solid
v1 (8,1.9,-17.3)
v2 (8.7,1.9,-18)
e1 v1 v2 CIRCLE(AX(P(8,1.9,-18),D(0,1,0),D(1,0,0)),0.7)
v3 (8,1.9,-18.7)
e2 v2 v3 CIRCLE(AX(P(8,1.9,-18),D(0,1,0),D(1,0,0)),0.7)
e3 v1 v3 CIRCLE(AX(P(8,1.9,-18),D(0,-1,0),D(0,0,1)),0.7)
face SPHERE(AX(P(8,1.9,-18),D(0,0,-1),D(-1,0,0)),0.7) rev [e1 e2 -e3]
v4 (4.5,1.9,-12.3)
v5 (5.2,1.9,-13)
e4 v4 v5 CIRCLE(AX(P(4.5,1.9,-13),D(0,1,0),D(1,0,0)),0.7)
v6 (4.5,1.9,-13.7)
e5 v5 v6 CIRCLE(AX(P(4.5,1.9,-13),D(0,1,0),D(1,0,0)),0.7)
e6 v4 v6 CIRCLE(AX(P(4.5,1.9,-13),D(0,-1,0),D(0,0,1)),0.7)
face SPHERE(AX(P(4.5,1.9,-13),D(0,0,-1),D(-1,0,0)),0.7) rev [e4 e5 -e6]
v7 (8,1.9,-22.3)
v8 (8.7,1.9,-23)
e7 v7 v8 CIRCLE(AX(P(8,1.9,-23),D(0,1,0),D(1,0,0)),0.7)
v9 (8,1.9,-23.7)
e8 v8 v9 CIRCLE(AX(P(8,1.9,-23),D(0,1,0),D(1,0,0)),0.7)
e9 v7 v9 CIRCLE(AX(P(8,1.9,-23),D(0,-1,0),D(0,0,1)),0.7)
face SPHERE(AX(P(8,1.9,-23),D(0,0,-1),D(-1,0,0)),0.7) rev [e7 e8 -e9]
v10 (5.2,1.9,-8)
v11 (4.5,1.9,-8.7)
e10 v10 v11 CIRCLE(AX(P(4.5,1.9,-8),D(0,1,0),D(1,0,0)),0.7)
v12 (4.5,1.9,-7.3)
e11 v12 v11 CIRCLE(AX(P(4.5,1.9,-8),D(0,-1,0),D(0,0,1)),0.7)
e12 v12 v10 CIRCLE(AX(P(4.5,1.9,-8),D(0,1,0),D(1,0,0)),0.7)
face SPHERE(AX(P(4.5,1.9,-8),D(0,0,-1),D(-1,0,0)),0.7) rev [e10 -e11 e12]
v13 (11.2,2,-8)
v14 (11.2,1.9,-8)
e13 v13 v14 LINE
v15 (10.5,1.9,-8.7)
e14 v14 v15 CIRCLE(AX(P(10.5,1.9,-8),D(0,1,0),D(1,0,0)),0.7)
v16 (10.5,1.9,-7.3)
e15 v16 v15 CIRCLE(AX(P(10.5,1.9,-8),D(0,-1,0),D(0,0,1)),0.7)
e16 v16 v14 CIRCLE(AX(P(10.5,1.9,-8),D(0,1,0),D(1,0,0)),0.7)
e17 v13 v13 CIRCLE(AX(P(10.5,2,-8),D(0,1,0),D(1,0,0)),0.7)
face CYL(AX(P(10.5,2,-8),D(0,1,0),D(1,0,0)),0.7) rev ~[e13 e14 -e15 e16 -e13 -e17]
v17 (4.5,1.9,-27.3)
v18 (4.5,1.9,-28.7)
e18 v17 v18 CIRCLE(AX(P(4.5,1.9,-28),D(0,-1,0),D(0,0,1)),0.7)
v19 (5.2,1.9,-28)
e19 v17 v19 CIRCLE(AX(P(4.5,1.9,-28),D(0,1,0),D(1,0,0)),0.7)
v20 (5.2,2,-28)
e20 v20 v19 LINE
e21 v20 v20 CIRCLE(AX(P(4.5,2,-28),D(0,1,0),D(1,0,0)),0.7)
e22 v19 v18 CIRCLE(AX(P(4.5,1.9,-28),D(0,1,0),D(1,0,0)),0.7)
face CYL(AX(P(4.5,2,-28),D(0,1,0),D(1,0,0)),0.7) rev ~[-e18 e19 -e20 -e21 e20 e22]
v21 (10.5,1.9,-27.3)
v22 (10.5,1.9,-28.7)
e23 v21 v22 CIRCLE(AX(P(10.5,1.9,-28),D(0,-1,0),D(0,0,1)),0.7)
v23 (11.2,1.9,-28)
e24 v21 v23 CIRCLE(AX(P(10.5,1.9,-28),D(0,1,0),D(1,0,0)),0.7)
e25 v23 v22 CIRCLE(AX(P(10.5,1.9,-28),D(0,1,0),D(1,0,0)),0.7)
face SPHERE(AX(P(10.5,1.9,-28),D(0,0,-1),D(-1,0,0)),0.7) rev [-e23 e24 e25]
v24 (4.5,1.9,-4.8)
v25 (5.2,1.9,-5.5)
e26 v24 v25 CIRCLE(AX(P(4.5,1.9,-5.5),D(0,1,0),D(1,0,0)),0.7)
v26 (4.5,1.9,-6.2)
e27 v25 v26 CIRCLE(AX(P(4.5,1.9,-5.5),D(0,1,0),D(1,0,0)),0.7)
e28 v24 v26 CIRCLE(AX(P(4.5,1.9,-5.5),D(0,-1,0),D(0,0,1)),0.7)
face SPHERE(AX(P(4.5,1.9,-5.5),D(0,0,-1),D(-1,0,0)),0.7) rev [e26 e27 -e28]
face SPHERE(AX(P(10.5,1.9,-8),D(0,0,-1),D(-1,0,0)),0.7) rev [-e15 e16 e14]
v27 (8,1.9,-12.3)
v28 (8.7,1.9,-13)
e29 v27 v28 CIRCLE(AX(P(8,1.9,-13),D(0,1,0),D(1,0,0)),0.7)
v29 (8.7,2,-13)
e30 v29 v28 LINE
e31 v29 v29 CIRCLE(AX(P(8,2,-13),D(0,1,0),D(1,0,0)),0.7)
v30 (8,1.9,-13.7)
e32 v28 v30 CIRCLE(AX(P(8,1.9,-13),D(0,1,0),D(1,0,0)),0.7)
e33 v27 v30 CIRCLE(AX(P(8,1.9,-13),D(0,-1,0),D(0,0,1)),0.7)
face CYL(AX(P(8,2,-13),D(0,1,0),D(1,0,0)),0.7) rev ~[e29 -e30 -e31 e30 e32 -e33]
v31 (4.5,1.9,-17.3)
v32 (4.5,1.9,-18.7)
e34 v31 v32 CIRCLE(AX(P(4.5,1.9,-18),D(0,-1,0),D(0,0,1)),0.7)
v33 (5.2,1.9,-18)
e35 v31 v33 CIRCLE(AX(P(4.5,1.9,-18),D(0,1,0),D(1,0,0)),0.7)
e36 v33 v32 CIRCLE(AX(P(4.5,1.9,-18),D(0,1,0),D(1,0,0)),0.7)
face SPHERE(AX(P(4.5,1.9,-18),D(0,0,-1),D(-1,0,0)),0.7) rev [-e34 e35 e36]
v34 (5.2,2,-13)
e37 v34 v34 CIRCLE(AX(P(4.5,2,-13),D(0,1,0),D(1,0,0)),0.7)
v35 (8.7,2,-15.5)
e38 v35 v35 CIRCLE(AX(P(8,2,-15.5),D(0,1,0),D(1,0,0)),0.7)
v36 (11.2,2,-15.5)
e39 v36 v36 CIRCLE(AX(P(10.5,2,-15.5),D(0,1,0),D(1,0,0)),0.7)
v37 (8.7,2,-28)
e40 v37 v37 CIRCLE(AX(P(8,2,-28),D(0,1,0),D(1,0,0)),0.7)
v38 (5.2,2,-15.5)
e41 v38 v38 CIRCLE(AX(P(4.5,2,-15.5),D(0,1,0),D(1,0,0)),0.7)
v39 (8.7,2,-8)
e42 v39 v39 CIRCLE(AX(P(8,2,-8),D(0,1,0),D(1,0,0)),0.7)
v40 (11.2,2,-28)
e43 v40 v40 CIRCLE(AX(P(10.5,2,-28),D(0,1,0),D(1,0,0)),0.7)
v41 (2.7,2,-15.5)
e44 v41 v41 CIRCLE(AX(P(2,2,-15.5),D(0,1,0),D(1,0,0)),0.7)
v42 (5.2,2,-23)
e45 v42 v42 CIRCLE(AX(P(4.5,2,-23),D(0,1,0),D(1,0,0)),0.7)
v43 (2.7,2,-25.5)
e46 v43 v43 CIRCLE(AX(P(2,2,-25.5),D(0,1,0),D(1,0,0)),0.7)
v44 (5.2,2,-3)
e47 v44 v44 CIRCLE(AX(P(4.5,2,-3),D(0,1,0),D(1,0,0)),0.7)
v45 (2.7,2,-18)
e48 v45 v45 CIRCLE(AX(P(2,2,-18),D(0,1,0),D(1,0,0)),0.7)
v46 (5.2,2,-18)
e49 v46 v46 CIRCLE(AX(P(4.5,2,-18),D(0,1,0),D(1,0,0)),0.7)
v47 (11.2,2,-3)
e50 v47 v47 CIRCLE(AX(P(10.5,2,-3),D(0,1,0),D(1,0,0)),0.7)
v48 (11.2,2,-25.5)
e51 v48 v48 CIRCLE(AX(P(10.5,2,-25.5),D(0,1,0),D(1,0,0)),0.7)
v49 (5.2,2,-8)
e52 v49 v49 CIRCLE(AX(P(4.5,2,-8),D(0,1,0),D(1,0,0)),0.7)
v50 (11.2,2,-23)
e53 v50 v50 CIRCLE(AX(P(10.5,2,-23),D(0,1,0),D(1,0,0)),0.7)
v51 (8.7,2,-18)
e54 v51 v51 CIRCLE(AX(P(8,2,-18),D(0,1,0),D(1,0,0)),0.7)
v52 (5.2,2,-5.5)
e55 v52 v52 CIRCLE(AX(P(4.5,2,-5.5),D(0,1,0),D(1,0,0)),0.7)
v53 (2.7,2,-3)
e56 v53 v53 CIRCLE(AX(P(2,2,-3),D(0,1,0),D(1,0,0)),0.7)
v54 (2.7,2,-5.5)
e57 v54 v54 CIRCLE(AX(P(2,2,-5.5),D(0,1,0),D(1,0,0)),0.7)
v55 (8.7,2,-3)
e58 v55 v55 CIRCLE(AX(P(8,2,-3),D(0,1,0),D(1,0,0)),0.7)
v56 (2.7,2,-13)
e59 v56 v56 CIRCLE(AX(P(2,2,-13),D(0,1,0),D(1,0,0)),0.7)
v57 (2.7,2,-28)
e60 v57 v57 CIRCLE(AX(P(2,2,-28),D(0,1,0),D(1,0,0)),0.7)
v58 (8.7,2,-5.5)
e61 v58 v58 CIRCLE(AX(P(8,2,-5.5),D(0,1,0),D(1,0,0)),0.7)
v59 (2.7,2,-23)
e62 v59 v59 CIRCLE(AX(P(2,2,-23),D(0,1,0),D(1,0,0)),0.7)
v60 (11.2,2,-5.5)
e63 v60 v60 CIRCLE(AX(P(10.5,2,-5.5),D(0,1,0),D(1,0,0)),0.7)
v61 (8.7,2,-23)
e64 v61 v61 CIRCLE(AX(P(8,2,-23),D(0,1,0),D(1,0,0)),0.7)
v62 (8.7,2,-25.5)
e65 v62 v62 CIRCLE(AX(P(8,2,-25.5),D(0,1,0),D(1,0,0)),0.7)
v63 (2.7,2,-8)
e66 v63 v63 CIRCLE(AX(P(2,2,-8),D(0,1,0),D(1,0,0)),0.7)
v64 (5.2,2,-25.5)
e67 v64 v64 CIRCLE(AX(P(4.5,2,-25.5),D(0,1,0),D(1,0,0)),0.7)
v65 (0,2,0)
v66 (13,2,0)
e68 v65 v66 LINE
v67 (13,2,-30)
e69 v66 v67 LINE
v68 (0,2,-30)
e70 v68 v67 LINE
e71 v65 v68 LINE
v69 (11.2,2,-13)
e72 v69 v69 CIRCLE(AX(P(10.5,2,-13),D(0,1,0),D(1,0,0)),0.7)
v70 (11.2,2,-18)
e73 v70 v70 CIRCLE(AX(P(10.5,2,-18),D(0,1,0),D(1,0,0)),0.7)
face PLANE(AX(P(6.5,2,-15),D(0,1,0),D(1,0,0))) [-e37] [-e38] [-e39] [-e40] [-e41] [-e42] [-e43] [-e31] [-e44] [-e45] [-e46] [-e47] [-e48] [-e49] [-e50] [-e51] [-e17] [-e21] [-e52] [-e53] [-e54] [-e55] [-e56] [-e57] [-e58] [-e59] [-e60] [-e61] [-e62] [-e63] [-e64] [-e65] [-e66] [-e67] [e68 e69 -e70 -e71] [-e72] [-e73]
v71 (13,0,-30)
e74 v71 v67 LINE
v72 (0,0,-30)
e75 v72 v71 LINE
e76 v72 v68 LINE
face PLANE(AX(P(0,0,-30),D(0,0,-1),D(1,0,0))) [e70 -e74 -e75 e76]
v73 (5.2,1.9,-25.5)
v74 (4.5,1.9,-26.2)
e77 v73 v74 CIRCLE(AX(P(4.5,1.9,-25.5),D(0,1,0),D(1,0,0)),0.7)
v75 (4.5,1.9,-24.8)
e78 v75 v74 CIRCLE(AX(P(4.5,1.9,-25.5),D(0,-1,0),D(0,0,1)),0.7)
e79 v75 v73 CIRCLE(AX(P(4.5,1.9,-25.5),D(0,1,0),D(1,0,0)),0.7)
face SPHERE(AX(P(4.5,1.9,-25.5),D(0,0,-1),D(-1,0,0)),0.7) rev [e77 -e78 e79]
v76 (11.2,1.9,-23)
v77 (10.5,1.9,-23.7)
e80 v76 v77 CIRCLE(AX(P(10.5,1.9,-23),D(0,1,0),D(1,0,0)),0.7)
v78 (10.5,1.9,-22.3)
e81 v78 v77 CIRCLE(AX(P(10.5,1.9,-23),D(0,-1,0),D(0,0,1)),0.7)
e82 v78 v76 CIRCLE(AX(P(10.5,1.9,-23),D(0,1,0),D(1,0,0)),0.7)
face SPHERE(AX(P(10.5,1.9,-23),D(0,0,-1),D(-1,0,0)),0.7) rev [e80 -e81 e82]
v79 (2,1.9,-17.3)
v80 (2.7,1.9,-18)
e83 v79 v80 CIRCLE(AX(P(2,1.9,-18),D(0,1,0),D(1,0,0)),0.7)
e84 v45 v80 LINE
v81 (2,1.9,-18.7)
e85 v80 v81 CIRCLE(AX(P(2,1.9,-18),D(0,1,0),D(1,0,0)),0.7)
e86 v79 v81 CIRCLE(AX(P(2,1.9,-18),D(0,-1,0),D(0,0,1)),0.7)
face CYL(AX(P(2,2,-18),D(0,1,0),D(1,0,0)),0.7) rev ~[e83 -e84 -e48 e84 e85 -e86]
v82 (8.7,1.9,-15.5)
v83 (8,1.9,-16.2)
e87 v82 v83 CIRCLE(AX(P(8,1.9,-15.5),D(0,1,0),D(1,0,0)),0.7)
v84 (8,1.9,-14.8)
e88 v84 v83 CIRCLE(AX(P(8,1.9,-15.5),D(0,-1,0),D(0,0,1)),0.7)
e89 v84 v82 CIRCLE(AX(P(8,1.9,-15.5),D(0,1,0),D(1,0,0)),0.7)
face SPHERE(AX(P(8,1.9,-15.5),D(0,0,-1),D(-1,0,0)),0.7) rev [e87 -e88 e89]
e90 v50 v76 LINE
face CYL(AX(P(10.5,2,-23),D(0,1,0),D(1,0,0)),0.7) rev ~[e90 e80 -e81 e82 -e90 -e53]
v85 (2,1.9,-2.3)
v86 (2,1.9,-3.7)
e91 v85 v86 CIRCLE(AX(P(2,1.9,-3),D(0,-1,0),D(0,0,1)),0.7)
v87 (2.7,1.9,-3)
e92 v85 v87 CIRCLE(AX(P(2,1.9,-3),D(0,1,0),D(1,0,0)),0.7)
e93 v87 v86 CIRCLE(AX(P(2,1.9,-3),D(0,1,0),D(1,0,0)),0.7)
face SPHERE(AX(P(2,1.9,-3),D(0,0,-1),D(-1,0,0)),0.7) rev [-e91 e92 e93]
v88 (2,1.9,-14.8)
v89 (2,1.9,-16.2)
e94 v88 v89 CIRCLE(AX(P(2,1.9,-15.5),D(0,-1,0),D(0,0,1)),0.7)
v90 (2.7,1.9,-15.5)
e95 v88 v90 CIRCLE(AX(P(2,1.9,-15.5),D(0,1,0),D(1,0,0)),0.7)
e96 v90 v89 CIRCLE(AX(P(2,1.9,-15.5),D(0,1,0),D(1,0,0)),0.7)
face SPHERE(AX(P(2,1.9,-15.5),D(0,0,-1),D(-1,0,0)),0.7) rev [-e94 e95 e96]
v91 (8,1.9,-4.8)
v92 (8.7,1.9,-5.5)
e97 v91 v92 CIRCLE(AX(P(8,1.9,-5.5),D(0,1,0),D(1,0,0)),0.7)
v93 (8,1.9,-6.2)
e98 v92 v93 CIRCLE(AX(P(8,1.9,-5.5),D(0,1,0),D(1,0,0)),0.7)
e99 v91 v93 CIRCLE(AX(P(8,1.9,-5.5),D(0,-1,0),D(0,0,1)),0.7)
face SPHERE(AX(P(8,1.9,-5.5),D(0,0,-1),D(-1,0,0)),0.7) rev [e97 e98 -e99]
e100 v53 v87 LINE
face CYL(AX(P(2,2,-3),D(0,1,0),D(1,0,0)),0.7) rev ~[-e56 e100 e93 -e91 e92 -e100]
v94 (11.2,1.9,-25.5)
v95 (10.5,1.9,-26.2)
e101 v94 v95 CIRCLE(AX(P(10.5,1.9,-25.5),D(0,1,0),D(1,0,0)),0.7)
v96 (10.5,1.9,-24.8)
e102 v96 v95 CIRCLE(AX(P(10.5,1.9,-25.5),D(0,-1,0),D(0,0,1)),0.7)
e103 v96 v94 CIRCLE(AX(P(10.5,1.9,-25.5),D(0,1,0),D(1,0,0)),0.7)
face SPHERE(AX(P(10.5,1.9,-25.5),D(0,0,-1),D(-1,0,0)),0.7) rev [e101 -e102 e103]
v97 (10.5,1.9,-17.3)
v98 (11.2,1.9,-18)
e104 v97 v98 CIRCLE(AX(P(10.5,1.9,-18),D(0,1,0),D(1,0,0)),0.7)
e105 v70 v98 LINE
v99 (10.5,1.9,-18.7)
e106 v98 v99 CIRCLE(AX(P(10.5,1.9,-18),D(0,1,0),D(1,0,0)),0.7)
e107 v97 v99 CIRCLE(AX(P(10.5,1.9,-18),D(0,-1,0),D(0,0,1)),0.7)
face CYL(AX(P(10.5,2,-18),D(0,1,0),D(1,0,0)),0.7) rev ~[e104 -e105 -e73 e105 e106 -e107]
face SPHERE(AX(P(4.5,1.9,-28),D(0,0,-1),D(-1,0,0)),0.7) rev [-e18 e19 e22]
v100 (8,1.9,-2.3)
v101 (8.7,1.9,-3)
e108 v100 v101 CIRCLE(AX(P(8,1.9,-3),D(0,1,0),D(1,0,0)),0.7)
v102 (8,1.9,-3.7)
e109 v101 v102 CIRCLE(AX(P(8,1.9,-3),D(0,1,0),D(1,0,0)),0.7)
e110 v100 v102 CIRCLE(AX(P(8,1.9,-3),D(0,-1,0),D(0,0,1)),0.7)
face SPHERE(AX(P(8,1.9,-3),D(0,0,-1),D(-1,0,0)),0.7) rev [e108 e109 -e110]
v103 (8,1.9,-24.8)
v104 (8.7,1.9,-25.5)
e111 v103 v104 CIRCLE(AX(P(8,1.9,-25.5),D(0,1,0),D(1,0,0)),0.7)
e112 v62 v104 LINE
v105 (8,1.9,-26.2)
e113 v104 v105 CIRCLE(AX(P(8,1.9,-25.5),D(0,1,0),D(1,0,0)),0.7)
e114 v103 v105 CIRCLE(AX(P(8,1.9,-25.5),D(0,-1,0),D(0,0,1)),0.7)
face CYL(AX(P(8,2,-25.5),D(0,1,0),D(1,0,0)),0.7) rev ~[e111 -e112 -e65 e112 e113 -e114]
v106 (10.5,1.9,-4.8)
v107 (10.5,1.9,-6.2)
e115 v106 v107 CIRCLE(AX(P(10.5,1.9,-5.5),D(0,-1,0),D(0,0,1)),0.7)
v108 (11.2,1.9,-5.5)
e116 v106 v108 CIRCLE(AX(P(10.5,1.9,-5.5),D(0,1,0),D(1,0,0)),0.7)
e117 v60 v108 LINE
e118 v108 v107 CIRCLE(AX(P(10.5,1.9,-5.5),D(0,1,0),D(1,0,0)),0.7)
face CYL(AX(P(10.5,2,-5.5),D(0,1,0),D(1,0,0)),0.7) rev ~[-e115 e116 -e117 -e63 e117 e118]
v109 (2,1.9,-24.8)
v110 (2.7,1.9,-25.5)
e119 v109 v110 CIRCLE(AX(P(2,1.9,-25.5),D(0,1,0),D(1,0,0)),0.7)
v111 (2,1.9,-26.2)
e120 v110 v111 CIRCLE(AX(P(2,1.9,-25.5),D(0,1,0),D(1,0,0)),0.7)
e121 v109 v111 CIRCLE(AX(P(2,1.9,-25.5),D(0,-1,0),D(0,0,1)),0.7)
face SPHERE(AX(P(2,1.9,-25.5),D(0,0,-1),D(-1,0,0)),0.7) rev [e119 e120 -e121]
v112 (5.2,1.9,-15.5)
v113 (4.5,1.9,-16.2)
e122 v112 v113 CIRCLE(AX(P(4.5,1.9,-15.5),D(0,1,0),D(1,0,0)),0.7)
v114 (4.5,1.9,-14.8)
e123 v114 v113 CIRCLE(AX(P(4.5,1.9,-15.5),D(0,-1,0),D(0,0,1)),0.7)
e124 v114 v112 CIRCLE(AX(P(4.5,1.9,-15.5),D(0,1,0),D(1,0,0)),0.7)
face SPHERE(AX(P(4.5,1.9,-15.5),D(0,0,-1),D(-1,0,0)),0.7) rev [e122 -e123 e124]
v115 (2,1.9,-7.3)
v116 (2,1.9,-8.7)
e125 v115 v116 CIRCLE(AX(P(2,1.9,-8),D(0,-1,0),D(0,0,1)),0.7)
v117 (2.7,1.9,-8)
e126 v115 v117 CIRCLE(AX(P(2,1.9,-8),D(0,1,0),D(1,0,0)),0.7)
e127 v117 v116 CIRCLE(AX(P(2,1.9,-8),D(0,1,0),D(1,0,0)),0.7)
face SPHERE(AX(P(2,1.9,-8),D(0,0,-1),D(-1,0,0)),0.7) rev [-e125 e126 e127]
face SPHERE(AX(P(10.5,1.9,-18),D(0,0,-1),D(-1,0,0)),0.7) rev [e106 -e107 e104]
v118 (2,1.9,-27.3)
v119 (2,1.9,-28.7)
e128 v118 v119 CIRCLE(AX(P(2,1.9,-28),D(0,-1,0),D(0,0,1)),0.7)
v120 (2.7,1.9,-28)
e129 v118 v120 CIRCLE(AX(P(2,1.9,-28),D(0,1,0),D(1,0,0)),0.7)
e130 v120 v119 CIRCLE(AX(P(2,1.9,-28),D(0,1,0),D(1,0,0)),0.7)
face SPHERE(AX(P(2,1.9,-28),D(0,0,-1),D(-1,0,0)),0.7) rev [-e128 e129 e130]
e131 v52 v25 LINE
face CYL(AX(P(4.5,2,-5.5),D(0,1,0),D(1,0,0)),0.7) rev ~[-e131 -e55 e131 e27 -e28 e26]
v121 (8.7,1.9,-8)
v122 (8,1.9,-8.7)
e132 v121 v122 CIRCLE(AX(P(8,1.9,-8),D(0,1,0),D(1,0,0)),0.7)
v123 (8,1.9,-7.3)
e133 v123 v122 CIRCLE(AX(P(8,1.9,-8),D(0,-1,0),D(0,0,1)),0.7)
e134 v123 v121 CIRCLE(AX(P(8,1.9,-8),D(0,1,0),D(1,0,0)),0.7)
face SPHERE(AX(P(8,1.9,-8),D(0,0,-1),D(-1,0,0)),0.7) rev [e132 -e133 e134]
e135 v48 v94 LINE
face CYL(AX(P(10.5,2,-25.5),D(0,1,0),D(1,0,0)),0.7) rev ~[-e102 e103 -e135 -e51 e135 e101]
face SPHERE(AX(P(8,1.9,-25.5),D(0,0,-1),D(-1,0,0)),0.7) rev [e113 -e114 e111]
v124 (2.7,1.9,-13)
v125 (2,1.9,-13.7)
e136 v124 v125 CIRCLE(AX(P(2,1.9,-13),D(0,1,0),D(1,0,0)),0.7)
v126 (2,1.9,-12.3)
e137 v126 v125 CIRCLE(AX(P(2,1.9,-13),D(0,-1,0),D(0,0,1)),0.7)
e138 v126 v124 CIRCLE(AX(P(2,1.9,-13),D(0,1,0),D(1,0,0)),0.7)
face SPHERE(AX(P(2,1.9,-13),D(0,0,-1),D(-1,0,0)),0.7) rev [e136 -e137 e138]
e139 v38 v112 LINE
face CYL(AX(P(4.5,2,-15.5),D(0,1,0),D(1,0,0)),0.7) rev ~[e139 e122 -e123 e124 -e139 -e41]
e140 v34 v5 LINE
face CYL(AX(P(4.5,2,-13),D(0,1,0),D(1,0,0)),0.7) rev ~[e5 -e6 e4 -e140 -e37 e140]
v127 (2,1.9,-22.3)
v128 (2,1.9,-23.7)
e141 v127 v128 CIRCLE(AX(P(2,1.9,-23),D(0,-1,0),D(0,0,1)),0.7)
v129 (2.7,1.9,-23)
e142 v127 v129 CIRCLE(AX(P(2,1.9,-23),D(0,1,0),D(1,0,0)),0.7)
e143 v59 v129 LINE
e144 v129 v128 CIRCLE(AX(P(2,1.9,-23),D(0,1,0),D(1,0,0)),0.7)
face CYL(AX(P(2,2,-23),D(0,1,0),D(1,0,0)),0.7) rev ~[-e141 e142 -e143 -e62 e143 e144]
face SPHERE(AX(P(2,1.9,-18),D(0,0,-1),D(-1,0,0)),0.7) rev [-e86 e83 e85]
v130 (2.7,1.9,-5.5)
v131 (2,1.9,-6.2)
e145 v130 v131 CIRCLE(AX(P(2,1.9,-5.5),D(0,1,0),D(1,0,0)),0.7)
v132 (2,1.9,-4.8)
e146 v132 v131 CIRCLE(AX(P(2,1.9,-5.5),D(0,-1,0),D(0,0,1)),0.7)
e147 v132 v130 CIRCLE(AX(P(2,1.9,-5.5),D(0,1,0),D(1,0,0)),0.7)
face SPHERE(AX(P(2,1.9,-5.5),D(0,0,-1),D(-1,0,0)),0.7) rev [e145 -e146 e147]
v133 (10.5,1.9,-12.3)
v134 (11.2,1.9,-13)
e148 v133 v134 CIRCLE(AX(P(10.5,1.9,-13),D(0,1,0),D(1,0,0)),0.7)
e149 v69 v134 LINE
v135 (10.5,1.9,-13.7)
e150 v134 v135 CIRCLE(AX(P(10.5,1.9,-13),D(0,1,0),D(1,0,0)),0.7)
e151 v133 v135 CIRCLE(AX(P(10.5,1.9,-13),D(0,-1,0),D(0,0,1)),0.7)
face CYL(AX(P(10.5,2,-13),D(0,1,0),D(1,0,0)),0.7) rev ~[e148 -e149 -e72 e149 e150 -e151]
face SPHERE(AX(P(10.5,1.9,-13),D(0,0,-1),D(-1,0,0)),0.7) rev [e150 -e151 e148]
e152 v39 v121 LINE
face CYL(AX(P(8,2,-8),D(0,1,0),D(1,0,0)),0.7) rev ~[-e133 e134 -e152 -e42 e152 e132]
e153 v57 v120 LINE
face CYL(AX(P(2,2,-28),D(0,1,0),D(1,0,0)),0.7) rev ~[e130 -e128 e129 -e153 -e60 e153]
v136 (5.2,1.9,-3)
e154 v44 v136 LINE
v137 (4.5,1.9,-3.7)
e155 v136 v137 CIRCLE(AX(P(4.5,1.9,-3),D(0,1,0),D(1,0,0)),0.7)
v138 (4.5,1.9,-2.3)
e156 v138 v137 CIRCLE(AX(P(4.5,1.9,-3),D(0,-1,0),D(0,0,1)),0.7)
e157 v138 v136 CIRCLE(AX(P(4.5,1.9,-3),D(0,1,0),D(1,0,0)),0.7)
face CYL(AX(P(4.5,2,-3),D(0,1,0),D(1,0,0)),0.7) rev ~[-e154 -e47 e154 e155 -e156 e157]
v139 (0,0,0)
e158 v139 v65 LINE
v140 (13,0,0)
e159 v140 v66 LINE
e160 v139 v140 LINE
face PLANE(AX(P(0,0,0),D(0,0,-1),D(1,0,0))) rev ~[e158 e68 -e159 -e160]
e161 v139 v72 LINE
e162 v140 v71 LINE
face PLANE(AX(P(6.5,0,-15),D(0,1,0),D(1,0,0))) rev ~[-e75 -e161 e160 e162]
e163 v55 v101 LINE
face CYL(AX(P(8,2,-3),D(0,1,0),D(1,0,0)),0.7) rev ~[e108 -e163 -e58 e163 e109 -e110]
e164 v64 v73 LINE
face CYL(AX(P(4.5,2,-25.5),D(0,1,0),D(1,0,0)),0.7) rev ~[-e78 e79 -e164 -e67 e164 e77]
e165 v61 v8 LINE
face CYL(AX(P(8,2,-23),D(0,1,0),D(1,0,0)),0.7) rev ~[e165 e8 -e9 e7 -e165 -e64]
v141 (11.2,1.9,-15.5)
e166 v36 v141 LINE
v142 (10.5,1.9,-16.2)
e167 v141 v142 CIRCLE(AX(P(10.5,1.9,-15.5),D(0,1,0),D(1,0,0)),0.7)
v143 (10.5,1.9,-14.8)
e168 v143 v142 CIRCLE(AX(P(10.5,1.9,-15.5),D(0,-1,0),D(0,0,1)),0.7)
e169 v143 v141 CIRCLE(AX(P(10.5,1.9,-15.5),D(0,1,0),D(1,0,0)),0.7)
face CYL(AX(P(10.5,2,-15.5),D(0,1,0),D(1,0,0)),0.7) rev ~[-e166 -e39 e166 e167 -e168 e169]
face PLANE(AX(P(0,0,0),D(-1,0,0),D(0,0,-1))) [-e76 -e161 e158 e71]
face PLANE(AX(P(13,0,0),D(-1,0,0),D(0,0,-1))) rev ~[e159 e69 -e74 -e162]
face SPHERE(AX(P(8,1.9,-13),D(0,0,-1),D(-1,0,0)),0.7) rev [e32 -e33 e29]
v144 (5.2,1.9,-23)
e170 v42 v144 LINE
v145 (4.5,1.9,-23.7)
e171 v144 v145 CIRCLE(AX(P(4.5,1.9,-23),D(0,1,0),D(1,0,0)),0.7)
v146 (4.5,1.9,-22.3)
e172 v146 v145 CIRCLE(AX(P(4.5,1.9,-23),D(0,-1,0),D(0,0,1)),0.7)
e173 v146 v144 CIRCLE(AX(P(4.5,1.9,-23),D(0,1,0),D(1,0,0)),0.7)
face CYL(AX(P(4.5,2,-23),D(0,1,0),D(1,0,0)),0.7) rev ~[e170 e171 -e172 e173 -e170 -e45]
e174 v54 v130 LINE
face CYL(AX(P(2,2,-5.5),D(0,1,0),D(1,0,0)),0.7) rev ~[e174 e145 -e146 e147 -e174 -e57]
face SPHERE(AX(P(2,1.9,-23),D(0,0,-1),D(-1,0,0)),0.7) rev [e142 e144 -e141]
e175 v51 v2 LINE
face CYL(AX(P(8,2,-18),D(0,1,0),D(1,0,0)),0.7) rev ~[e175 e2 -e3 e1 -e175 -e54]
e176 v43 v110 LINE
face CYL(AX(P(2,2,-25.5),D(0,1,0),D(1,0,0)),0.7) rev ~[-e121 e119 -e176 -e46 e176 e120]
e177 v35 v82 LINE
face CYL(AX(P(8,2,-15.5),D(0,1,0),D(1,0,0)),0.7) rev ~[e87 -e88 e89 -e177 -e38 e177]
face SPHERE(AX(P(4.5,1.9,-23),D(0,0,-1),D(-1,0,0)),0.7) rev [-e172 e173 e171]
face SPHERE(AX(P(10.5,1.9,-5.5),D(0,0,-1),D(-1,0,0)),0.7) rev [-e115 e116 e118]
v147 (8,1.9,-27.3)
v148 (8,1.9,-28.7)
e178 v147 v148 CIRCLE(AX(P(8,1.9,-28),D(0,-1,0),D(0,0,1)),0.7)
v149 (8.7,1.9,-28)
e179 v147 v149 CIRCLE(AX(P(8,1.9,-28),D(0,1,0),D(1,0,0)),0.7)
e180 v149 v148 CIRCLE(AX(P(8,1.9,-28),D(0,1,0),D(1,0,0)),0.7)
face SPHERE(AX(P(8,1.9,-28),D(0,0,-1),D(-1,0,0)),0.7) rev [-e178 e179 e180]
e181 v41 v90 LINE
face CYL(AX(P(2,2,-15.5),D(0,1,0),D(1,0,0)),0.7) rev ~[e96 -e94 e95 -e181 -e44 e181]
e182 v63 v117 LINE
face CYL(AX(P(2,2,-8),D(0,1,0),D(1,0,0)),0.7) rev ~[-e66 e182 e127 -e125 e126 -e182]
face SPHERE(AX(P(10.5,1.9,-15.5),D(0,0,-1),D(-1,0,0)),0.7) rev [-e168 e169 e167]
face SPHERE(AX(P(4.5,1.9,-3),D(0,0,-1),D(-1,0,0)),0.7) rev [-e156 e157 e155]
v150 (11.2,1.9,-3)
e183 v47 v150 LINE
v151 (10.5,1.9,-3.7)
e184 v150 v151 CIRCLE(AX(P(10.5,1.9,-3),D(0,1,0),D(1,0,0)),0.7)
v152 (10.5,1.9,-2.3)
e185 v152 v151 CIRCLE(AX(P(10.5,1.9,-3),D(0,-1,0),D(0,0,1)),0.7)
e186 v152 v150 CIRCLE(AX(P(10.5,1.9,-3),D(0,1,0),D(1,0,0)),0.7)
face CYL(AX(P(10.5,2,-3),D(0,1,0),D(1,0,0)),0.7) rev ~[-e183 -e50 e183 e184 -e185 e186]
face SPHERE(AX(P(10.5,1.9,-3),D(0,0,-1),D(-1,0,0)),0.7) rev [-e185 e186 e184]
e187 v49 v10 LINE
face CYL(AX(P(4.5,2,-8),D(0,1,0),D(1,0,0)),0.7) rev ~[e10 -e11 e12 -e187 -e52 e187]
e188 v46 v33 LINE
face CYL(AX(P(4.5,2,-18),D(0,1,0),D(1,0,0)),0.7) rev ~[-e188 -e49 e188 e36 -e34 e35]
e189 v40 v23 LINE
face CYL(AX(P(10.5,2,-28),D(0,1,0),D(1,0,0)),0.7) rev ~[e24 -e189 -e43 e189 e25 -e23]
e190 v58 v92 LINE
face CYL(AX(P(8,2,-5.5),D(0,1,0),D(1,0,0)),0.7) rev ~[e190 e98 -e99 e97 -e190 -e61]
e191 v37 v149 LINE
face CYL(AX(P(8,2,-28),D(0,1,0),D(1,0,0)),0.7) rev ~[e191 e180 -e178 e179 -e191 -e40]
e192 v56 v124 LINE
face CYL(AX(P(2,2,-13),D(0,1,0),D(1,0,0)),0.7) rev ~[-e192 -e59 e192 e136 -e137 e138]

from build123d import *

# Parameters (mm, degrees)
SKETCH1_W            = 13
SKETCH1_H            = 30
BOSS_EXTRUDE1_DEPTH  = 2
SKETCH2_R            = 0.7
CUT_EXTRUDE1_DEPTH   = 0.1
LPATTERN1_COUNT      = 2
LPATTERN1_PITCH      = 2.5
LPATTERN1_COUNT_DIR2 = 3
LPATTERN1_PITCH_DIR2 = 2.5
LPATTERN3_COUNT      = 2
LPATTERN3_PITCH      = 6
LPATTERN3_COUNT_DIR2 = 3
LPATTERN3_PITCH_DIR2 = 10


with BuildPart() as part:
    # Sketch1 → Boss-Extrude1 (new body)
    with BuildSketch(Plane(origin=(0, 0, 0), x_dir=(1, 0, 0), z_dir=(0, 1, 0))):
        with Locations((6.5, 15)):
            Rectangle(SKETCH1_W, SKETCH1_H)
    extrude(amount=BOSS_EXTRUDE1_DEPTH)

    # Sketch2 → Cut-Extrude1 (cut)
    with BuildSketch(Plane(origin=(0, 2, 0), x_dir=(1, 0, 0), z_dir=(0, 1, 0))):
        with Locations((2, 28)):
            Circle(SKETCH2_R)
        with Locations((4.5, 28)):
            Circle(SKETCH2_R)
        with Locations((4.5, 25.5)):
            Circle(SKETCH2_R)
        with Locations((4.5, 23)):
            Circle(SKETCH2_R)
        with Locations((2, 25.5)):
            Circle(SKETCH2_R)
        with Locations((2, 23)):
            Circle(SKETCH2_R)
    cut_extrude1 = extrude(amount=-CUT_EXTRUDE1_DEPTH, mode=Mode.SUBTRACT)

    # Sketch3 → Cut-Revolve1 (revolve, cut)
    with BuildSketch(Plane(origin=(0, 1.9, 0), x_dir=(1, 0, 0), z_dir=(0, 1, 0))):
        with BuildLine():
            Line((2, 28.7), (2, 27.3))
            ThreePointArc((2, 27.3), (1.3, 28), (2, 28.7))
        make_face()
    cut_revolve1 = revolve(axis=Axis((2, 1.9, -28.7), (0, 0, 1)), mode=Mode.SUBTRACT)

    # LPattern1: Cut-Revolve1 2 × 3
    with Locations(*[(i * LPATTERN1_PITCH, 0, j * LPATTERN1_PITCH_DIR2) for i in range(LPATTERN1_COUNT) for j in range(LPATTERN1_COUNT_DIR2) if (i, j) != (0, 0)]):
        add(cut_revolve1, mode=Mode.SUBTRACT)

    # LPattern3: Cut-Extrude1, Cut-Revolve1 2 × 3
    with Locations(*[(i * LPATTERN3_PITCH, 0, j * LPATTERN3_PITCH_DIR2) for i in range(LPATTERN3_COUNT) for j in range(LPATTERN3_COUNT_DIR2) if (i, j) != (0, 0)]):
        add(cut_extrude1, mode=Mode.SUBTRACT)
        add(cut_revolve1, mode=Mode.SUBTRACT)

    # LPattern3 copy 1 sketch → LPattern3 copy 1 (revolve, cut)
    with BuildSketch(Plane(origin=(0, 1.9, 12.5), x_dir=(1, 0, 0), z_dir=(0, 1, 0))):
        with BuildLine():
            Line((2, 28.7), (2, 27.3))
            ThreePointArc((2, 27.3), (1.3, 28), (2, 28.7))
        make_face()
    revolve(axis=Axis((2, 1.9, -16.2), (0, 0, 1)), mode=Mode.SUBTRACT)

    # LPattern3 copy 2 sketch → LPattern3 copy 2 (revolve, cut)
    with BuildSketch(Plane(origin=(0, 1.9, 22.5), x_dir=(1, 0, 0), z_dir=(0, 1, 0))):
        with BuildLine():
            Line((2, 28.7), (2, 27.3))
            ThreePointArc((2, 27.3), (1.3, 28), (2, 28.7))
        make_face()
    revolve(axis=Axis((2, 1.9, -6.2), (0, 0, 1)), mode=Mode.SUBTRACT)

    # LPattern3 copy 3 sketch → LPattern3 copy 3 (revolve, cut)
    with BuildSketch(Plane(origin=(6, 1.9, 2.5), x_dir=(1, 0, 0), z_dir=(0, 1, 0))):
        with BuildLine():
            Line((2, 28.7), (2, 27.3))
            ThreePointArc((2, 27.3), (1.3, 28), (2, 28.7))
        make_face()
    revolve(axis=Axis((8, 1.9, -26.2), (0, 0, 1)), mode=Mode.SUBTRACT)

    # LPattern3 copy 4 sketch → LPattern3 copy 4 (revolve, cut)
    with BuildSketch(Plane(origin=(6, 1.9, 12.5), x_dir=(1, 0, 0), z_dir=(0, 1, 0))):
        with BuildLine():
            Line((2, 28.7), (2, 27.3))
            ThreePointArc((2, 27.3), (1.3, 28), (2, 28.7))
        make_face()
    revolve(axis=Axis((8, 1.9, -16.2), (0, 0, 1)), mode=Mode.SUBTRACT)

    # LPattern3 copy 5 sketch → LPattern3 copy 5 (revolve, cut)
    with BuildSketch(Plane(origin=(6, 1.9, 22.5), x_dir=(1, 0, 0), z_dir=(0, 1, 0))):
        with BuildLine():
            Line((2, 28.7), (2, 27.3))
            ThreePointArc((2, 27.3), (1.3, 28), (2, 28.7))
        make_face()
    revolve(axis=Axis((8, 1.9, -6.2), (0, 0, 1)), mode=Mode.SUBTRACT)

    # LPattern3 copy 6 sketch → LPattern3 copy 6 (revolve, cut)
    with BuildSketch(Plane(origin=(0, 1.9, 15), x_dir=(1, 0, 0), z_dir=(0, 1, 0))):
        with BuildLine():
            Line((2, 28.7), (2, 27.3))
            ThreePointArc((2, 27.3), (1.3, 28), (2, 28.7))
        make_face()
    revolve(axis=Axis((2, 1.9, -13.7), (0, 0, 1)), mode=Mode.SUBTRACT)

    # LPattern3 copy 7 sketch → LPattern3 copy 7 (revolve, cut)
    with BuildSketch(Plane(origin=(0, 1.9, 25), x_dir=(1, 0, 0), z_dir=(0, 1, 0))):
        with BuildLine():
            Line((2, 28.7), (2, 27.3))
            ThreePointArc((2, 27.3), (1.3, 28), (2, 28.7))
        make_face()
    revolve(axis=Axis((2, 1.9, -3.7), (0, 0, 1)), mode=Mode.SUBTRACT)

    # LPattern3 copy 8 sketch → LPattern3 copy 8 (revolve, cut)
    with BuildSketch(Plane(origin=(6, 1.9, 5), x_dir=(1, 0, 0), z_dir=(0, 1, 0))):
        with BuildLine():
            Line((2, 28.7), (2, 27.3))
            ThreePointArc((2, 27.3), (1.3, 28), (2, 28.7))
        make_face()
    revolve(axis=Axis((8, 1.9, -23.7), (0, 0, 1)), mode=Mode.SUBTRACT)

    # LPattern3 copy 9 sketch → LPattern3 copy 9 (revolve, cut)
    with BuildSketch(Plane(origin=(6, 1.9, 15), x_dir=(1, 0, 0), z_dir=(0, 1, 0))):
        with BuildLine():
            Line((2, 28.7), (2, 27.3))
            ThreePointArc((2, 27.3), (1.3, 28), (2, 28.7))
        make_face()
    revolve(axis=Axis((8, 1.9, -13.7), (0, 0, 1)), mode=Mode.SUBTRACT)

    # LPattern3 copy 10 sketch → LPattern3 copy 10 (revolve, cut)
    with BuildSketch(Plane(origin=(6, 1.9, 25), x_dir=(1, 0, 0), z_dir=(0, 1, 0))):
        with BuildLine():
            Line((2, 28.7), (2, 27.3))
            ThreePointArc((2, 27.3), (1.3, 28), (2, 28.7))
        make_face()
    revolve(axis=Axis((8, 1.9, -3.7), (0, 0, 1)), mode=Mode.SUBTRACT)

    # LPattern3 copy 11 sketch → LPattern3 copy 11 (revolve, cut)
    with BuildSketch(Plane(origin=(2.5, 1.9, 10), x_dir=(1, 0, 0), z_dir=(0, 1, 0))):
        with BuildLine():
            Line((2, 28.7), (2, 27.3))
            ThreePointArc((2, 27.3), (1.3, 28), (2, 28.7))
        make_face()
    revolve(axis=Axis((4.5, 1.9, -18.7), (0, 0, 1)), mode=Mode.SUBTRACT)

    # LPattern3 copy 12 sketch → LPattern3 copy 12 (revolve, cut)
    with BuildSketch(Plane(origin=(2.5, 1.9, 20), x_dir=(1, 0, 0), z_dir=(0, 1, 0))):
        with BuildLine():
            Line((2, 28.7), (2, 27.3))
            ThreePointArc((2, 27.3), (1.3, 28), (2, 28.7))
        make_face()
    revolve(axis=Axis((4.5, 1.9, -8.7), (0, 0, 1)), mode=Mode.SUBTRACT)

    # LPattern3 copy 13 sketch → LPattern3 copy 13 (revolve, cut)
    with BuildSketch(Plane(origin=(8.5, 1.9, 0), x_dir=(1, 0, 0), z_dir=(0, 1, 0))):
        with BuildLine():
            Line((2, 28.7), (2, 27.3))
            ThreePointArc((2, 27.3), (1.3, 28), (2, 28.7))
        make_face()
    revolve(axis=Axis((10.5, 1.9, -28.7), (0, 0, 1)), mode=Mode.SUBTRACT)

    # LPattern3 copy 14 sketch → LPattern3 copy 14 (revolve, cut)
    with BuildSketch(Plane(origin=(8.5, 1.9, 10), x_dir=(1, 0, 0), z_dir=(0, 1, 0))):
        with BuildLine():
            Line((2, 28.7), (2, 27.3))
            ThreePointArc((2, 27.3), (1.3, 28), (2, 28.7))
        make_face()
    revolve(axis=Axis((10.5, 1.9, -18.7), (0, 0, 1)), mode=Mode.SUBTRACT)

    # LPattern3 copy 15 sketch → LPattern3 copy 15 (revolve, cut)
    with BuildSketch(Plane(origin=(8.5, 1.9, 20), x_dir=(1, 0, 0), z_dir=(0, 1, 0))):
        with BuildLine():
            Line((2, 28.7), (2, 27.3))
            ThreePointArc((2, 27.3), (1.3, 28), (2, 28.7))
        make_face()
    revolve(axis=Axis((10.5, 1.9, -8.7), (0, 0, 1)), mode=Mode.SUBTRACT)

    # LPattern3 copy 16 sketch → LPattern3 copy 16 (revolve, cut)
    with BuildSketch(Plane(origin=(2.5, 1.9, 12.5), x_dir=(1, 0, 0), z_dir=(0, 1, 0))):
        with BuildLine():
            Line((2, 28.7), (2, 27.3))
            ThreePointArc((2, 27.3), (1.3, 28), (2, 28.7))
        make_face()
    revolve(axis=Axis((4.5, 1.9, -16.2), (0, 0, 1)), mode=Mode.SUBTRACT)

    # LPattern3 copy 17 sketch → LPattern3 copy 17 (revolve, cut)
    with BuildSketch(Plane(origin=(2.5, 1.9, 22.5), x_dir=(1, 0, 0), z_dir=(0, 1, 0))):
        with BuildLine():
            Line((2, 28.7), (2, 27.3))
            ThreePointArc((2, 27.3), (1.3, 28), (2, 28.7))
        make_face()
    revolve(axis=Axis((4.5, 1.9, -6.2), (0, 0, 1)), mode=Mode.SUBTRACT)

    # LPattern3 copy 18 sketch → LPattern3 copy 18 (revolve, cut)
    with BuildSketch(Plane(origin=(8.5, 1.9, 2.5), x_dir=(1, 0, 0), z_dir=(0, 1, 0))):
        with BuildLine():
            Line((2, 28.7), (2, 27.3))
            ThreePointArc((2, 27.3), (1.3, 28), (2, 28.7))
        make_face()
    revolve(axis=Axis((10.5, 1.9, -26.2), (0, 0, 1)), mode=Mode.SUBTRACT)

    # LPattern3 copy 19 sketch → LPattern3 copy 19 (revolve, cut)
    with BuildSketch(Plane(origin=(8.5, 1.9, 12.5), x_dir=(1, 0, 0), z_dir=(0, 1, 0))):
        with BuildLine():
            Line((2, 28.7), (2, 27.3))
            ThreePointArc((2, 27.3), (1.3, 28), (2, 28.7))
        make_face()
    revolve(axis=Axis((10.5, 1.9, -16.2), (0, 0, 1)), mode=Mode.SUBTRACT)

    # LPattern3 copy 20 sketch → LPattern3 copy 20 (revolve, cut)
    with BuildSketch(Plane(origin=(8.5, 1.9, 22.5), x_dir=(1, 0, 0), z_dir=(0, 1, 0))):
        with BuildLine():
            Line((2, 28.7), (2, 27.3))
            ThreePointArc((2, 27.3), (1.3, 28), (2, 28.7))
        make_face()
    revolve(axis=Axis((10.5, 1.9, -6.2), (0, 0, 1)), mode=Mode.SUBTRACT)

    # LPattern3 copy 21 sketch → LPattern3 copy 21 (revolve, cut)
    with BuildSketch(Plane(origin=(2.5, 1.9, 15), x_dir=(1, 0, 0), z_dir=(0, 1, 0))):
        with BuildLine():
            Line((2, 28.7), (2, 27.3))
            ThreePointArc((2, 27.3), (1.3, 28), (2, 28.7))
        make_face()
    revolve(axis=Axis((4.5, 1.9, -13.7), (0, 0, 1)), mode=Mode.SUBTRACT)

    # LPattern3 copy 22 sketch → LPattern3 copy 22 (revolve, cut)
    with BuildSketch(Plane(origin=(2.5, 1.9, 25), x_dir=(1, 0, 0), z_dir=(0, 1, 0))):
        with BuildLine():
            Line((2, 28.7), (2, 27.3))
            ThreePointArc((2, 27.3), (1.3, 28), (2, 28.7))
        make_face()
    revolve(axis=Axis((4.5, 1.9, -3.7), (0, 0, 1)), mode=Mode.SUBTRACT)

    # LPattern3 copy 23 sketch → LPattern3 copy 23 (revolve, cut)
    with BuildSketch(Plane(origin=(8.5, 1.9, 5), x_dir=(1, 0, 0), z_dir=(0, 1, 0))):
        with BuildLine():
            Line((2, 28.7), (2, 27.3))
            ThreePointArc((2, 27.3), (1.3, 28), (2, 28.7))
        make_face()
    revolve(axis=Axis((10.5, 1.9, -23.7), (0, 0, 1)), mode=Mode.SUBTRACT)

    # LPattern3 copy 24 sketch → LPattern3 copy 24 (revolve, cut)
    with BuildSketch(Plane(origin=(8.5, 1.9, 15), x_dir=(1, 0, 0), z_dir=(0, 1, 0))):
        with BuildLine():
            Line((2, 28.7), (2, 27.3))
            ThreePointArc((2, 27.3), (1.3, 28), (2, 28.7))
        make_face()
    revolve(axis=Axis((10.5, 1.9, -13.7), (0, 0, 1)), mode=Mode.SUBTRACT)

    # LPattern3 copy 25 sketch → LPattern3 copy 25 (revolve, cut)
    with BuildSketch(Plane(origin=(8.5, 1.9, 25), x_dir=(1, 0, 0), z_dir=(0, 1, 0))):
        with BuildLine():
            Line((2, 28.7), (2, 27.3))
            ThreePointArc((2, 27.3), (1.3, 28), (2, 28.7))
        make_face()
    revolve(axis=Axis((10.5, 1.9, -3.7), (0, 0, 1)), mode=Mode.SUBTRACT)


solid = part.part
